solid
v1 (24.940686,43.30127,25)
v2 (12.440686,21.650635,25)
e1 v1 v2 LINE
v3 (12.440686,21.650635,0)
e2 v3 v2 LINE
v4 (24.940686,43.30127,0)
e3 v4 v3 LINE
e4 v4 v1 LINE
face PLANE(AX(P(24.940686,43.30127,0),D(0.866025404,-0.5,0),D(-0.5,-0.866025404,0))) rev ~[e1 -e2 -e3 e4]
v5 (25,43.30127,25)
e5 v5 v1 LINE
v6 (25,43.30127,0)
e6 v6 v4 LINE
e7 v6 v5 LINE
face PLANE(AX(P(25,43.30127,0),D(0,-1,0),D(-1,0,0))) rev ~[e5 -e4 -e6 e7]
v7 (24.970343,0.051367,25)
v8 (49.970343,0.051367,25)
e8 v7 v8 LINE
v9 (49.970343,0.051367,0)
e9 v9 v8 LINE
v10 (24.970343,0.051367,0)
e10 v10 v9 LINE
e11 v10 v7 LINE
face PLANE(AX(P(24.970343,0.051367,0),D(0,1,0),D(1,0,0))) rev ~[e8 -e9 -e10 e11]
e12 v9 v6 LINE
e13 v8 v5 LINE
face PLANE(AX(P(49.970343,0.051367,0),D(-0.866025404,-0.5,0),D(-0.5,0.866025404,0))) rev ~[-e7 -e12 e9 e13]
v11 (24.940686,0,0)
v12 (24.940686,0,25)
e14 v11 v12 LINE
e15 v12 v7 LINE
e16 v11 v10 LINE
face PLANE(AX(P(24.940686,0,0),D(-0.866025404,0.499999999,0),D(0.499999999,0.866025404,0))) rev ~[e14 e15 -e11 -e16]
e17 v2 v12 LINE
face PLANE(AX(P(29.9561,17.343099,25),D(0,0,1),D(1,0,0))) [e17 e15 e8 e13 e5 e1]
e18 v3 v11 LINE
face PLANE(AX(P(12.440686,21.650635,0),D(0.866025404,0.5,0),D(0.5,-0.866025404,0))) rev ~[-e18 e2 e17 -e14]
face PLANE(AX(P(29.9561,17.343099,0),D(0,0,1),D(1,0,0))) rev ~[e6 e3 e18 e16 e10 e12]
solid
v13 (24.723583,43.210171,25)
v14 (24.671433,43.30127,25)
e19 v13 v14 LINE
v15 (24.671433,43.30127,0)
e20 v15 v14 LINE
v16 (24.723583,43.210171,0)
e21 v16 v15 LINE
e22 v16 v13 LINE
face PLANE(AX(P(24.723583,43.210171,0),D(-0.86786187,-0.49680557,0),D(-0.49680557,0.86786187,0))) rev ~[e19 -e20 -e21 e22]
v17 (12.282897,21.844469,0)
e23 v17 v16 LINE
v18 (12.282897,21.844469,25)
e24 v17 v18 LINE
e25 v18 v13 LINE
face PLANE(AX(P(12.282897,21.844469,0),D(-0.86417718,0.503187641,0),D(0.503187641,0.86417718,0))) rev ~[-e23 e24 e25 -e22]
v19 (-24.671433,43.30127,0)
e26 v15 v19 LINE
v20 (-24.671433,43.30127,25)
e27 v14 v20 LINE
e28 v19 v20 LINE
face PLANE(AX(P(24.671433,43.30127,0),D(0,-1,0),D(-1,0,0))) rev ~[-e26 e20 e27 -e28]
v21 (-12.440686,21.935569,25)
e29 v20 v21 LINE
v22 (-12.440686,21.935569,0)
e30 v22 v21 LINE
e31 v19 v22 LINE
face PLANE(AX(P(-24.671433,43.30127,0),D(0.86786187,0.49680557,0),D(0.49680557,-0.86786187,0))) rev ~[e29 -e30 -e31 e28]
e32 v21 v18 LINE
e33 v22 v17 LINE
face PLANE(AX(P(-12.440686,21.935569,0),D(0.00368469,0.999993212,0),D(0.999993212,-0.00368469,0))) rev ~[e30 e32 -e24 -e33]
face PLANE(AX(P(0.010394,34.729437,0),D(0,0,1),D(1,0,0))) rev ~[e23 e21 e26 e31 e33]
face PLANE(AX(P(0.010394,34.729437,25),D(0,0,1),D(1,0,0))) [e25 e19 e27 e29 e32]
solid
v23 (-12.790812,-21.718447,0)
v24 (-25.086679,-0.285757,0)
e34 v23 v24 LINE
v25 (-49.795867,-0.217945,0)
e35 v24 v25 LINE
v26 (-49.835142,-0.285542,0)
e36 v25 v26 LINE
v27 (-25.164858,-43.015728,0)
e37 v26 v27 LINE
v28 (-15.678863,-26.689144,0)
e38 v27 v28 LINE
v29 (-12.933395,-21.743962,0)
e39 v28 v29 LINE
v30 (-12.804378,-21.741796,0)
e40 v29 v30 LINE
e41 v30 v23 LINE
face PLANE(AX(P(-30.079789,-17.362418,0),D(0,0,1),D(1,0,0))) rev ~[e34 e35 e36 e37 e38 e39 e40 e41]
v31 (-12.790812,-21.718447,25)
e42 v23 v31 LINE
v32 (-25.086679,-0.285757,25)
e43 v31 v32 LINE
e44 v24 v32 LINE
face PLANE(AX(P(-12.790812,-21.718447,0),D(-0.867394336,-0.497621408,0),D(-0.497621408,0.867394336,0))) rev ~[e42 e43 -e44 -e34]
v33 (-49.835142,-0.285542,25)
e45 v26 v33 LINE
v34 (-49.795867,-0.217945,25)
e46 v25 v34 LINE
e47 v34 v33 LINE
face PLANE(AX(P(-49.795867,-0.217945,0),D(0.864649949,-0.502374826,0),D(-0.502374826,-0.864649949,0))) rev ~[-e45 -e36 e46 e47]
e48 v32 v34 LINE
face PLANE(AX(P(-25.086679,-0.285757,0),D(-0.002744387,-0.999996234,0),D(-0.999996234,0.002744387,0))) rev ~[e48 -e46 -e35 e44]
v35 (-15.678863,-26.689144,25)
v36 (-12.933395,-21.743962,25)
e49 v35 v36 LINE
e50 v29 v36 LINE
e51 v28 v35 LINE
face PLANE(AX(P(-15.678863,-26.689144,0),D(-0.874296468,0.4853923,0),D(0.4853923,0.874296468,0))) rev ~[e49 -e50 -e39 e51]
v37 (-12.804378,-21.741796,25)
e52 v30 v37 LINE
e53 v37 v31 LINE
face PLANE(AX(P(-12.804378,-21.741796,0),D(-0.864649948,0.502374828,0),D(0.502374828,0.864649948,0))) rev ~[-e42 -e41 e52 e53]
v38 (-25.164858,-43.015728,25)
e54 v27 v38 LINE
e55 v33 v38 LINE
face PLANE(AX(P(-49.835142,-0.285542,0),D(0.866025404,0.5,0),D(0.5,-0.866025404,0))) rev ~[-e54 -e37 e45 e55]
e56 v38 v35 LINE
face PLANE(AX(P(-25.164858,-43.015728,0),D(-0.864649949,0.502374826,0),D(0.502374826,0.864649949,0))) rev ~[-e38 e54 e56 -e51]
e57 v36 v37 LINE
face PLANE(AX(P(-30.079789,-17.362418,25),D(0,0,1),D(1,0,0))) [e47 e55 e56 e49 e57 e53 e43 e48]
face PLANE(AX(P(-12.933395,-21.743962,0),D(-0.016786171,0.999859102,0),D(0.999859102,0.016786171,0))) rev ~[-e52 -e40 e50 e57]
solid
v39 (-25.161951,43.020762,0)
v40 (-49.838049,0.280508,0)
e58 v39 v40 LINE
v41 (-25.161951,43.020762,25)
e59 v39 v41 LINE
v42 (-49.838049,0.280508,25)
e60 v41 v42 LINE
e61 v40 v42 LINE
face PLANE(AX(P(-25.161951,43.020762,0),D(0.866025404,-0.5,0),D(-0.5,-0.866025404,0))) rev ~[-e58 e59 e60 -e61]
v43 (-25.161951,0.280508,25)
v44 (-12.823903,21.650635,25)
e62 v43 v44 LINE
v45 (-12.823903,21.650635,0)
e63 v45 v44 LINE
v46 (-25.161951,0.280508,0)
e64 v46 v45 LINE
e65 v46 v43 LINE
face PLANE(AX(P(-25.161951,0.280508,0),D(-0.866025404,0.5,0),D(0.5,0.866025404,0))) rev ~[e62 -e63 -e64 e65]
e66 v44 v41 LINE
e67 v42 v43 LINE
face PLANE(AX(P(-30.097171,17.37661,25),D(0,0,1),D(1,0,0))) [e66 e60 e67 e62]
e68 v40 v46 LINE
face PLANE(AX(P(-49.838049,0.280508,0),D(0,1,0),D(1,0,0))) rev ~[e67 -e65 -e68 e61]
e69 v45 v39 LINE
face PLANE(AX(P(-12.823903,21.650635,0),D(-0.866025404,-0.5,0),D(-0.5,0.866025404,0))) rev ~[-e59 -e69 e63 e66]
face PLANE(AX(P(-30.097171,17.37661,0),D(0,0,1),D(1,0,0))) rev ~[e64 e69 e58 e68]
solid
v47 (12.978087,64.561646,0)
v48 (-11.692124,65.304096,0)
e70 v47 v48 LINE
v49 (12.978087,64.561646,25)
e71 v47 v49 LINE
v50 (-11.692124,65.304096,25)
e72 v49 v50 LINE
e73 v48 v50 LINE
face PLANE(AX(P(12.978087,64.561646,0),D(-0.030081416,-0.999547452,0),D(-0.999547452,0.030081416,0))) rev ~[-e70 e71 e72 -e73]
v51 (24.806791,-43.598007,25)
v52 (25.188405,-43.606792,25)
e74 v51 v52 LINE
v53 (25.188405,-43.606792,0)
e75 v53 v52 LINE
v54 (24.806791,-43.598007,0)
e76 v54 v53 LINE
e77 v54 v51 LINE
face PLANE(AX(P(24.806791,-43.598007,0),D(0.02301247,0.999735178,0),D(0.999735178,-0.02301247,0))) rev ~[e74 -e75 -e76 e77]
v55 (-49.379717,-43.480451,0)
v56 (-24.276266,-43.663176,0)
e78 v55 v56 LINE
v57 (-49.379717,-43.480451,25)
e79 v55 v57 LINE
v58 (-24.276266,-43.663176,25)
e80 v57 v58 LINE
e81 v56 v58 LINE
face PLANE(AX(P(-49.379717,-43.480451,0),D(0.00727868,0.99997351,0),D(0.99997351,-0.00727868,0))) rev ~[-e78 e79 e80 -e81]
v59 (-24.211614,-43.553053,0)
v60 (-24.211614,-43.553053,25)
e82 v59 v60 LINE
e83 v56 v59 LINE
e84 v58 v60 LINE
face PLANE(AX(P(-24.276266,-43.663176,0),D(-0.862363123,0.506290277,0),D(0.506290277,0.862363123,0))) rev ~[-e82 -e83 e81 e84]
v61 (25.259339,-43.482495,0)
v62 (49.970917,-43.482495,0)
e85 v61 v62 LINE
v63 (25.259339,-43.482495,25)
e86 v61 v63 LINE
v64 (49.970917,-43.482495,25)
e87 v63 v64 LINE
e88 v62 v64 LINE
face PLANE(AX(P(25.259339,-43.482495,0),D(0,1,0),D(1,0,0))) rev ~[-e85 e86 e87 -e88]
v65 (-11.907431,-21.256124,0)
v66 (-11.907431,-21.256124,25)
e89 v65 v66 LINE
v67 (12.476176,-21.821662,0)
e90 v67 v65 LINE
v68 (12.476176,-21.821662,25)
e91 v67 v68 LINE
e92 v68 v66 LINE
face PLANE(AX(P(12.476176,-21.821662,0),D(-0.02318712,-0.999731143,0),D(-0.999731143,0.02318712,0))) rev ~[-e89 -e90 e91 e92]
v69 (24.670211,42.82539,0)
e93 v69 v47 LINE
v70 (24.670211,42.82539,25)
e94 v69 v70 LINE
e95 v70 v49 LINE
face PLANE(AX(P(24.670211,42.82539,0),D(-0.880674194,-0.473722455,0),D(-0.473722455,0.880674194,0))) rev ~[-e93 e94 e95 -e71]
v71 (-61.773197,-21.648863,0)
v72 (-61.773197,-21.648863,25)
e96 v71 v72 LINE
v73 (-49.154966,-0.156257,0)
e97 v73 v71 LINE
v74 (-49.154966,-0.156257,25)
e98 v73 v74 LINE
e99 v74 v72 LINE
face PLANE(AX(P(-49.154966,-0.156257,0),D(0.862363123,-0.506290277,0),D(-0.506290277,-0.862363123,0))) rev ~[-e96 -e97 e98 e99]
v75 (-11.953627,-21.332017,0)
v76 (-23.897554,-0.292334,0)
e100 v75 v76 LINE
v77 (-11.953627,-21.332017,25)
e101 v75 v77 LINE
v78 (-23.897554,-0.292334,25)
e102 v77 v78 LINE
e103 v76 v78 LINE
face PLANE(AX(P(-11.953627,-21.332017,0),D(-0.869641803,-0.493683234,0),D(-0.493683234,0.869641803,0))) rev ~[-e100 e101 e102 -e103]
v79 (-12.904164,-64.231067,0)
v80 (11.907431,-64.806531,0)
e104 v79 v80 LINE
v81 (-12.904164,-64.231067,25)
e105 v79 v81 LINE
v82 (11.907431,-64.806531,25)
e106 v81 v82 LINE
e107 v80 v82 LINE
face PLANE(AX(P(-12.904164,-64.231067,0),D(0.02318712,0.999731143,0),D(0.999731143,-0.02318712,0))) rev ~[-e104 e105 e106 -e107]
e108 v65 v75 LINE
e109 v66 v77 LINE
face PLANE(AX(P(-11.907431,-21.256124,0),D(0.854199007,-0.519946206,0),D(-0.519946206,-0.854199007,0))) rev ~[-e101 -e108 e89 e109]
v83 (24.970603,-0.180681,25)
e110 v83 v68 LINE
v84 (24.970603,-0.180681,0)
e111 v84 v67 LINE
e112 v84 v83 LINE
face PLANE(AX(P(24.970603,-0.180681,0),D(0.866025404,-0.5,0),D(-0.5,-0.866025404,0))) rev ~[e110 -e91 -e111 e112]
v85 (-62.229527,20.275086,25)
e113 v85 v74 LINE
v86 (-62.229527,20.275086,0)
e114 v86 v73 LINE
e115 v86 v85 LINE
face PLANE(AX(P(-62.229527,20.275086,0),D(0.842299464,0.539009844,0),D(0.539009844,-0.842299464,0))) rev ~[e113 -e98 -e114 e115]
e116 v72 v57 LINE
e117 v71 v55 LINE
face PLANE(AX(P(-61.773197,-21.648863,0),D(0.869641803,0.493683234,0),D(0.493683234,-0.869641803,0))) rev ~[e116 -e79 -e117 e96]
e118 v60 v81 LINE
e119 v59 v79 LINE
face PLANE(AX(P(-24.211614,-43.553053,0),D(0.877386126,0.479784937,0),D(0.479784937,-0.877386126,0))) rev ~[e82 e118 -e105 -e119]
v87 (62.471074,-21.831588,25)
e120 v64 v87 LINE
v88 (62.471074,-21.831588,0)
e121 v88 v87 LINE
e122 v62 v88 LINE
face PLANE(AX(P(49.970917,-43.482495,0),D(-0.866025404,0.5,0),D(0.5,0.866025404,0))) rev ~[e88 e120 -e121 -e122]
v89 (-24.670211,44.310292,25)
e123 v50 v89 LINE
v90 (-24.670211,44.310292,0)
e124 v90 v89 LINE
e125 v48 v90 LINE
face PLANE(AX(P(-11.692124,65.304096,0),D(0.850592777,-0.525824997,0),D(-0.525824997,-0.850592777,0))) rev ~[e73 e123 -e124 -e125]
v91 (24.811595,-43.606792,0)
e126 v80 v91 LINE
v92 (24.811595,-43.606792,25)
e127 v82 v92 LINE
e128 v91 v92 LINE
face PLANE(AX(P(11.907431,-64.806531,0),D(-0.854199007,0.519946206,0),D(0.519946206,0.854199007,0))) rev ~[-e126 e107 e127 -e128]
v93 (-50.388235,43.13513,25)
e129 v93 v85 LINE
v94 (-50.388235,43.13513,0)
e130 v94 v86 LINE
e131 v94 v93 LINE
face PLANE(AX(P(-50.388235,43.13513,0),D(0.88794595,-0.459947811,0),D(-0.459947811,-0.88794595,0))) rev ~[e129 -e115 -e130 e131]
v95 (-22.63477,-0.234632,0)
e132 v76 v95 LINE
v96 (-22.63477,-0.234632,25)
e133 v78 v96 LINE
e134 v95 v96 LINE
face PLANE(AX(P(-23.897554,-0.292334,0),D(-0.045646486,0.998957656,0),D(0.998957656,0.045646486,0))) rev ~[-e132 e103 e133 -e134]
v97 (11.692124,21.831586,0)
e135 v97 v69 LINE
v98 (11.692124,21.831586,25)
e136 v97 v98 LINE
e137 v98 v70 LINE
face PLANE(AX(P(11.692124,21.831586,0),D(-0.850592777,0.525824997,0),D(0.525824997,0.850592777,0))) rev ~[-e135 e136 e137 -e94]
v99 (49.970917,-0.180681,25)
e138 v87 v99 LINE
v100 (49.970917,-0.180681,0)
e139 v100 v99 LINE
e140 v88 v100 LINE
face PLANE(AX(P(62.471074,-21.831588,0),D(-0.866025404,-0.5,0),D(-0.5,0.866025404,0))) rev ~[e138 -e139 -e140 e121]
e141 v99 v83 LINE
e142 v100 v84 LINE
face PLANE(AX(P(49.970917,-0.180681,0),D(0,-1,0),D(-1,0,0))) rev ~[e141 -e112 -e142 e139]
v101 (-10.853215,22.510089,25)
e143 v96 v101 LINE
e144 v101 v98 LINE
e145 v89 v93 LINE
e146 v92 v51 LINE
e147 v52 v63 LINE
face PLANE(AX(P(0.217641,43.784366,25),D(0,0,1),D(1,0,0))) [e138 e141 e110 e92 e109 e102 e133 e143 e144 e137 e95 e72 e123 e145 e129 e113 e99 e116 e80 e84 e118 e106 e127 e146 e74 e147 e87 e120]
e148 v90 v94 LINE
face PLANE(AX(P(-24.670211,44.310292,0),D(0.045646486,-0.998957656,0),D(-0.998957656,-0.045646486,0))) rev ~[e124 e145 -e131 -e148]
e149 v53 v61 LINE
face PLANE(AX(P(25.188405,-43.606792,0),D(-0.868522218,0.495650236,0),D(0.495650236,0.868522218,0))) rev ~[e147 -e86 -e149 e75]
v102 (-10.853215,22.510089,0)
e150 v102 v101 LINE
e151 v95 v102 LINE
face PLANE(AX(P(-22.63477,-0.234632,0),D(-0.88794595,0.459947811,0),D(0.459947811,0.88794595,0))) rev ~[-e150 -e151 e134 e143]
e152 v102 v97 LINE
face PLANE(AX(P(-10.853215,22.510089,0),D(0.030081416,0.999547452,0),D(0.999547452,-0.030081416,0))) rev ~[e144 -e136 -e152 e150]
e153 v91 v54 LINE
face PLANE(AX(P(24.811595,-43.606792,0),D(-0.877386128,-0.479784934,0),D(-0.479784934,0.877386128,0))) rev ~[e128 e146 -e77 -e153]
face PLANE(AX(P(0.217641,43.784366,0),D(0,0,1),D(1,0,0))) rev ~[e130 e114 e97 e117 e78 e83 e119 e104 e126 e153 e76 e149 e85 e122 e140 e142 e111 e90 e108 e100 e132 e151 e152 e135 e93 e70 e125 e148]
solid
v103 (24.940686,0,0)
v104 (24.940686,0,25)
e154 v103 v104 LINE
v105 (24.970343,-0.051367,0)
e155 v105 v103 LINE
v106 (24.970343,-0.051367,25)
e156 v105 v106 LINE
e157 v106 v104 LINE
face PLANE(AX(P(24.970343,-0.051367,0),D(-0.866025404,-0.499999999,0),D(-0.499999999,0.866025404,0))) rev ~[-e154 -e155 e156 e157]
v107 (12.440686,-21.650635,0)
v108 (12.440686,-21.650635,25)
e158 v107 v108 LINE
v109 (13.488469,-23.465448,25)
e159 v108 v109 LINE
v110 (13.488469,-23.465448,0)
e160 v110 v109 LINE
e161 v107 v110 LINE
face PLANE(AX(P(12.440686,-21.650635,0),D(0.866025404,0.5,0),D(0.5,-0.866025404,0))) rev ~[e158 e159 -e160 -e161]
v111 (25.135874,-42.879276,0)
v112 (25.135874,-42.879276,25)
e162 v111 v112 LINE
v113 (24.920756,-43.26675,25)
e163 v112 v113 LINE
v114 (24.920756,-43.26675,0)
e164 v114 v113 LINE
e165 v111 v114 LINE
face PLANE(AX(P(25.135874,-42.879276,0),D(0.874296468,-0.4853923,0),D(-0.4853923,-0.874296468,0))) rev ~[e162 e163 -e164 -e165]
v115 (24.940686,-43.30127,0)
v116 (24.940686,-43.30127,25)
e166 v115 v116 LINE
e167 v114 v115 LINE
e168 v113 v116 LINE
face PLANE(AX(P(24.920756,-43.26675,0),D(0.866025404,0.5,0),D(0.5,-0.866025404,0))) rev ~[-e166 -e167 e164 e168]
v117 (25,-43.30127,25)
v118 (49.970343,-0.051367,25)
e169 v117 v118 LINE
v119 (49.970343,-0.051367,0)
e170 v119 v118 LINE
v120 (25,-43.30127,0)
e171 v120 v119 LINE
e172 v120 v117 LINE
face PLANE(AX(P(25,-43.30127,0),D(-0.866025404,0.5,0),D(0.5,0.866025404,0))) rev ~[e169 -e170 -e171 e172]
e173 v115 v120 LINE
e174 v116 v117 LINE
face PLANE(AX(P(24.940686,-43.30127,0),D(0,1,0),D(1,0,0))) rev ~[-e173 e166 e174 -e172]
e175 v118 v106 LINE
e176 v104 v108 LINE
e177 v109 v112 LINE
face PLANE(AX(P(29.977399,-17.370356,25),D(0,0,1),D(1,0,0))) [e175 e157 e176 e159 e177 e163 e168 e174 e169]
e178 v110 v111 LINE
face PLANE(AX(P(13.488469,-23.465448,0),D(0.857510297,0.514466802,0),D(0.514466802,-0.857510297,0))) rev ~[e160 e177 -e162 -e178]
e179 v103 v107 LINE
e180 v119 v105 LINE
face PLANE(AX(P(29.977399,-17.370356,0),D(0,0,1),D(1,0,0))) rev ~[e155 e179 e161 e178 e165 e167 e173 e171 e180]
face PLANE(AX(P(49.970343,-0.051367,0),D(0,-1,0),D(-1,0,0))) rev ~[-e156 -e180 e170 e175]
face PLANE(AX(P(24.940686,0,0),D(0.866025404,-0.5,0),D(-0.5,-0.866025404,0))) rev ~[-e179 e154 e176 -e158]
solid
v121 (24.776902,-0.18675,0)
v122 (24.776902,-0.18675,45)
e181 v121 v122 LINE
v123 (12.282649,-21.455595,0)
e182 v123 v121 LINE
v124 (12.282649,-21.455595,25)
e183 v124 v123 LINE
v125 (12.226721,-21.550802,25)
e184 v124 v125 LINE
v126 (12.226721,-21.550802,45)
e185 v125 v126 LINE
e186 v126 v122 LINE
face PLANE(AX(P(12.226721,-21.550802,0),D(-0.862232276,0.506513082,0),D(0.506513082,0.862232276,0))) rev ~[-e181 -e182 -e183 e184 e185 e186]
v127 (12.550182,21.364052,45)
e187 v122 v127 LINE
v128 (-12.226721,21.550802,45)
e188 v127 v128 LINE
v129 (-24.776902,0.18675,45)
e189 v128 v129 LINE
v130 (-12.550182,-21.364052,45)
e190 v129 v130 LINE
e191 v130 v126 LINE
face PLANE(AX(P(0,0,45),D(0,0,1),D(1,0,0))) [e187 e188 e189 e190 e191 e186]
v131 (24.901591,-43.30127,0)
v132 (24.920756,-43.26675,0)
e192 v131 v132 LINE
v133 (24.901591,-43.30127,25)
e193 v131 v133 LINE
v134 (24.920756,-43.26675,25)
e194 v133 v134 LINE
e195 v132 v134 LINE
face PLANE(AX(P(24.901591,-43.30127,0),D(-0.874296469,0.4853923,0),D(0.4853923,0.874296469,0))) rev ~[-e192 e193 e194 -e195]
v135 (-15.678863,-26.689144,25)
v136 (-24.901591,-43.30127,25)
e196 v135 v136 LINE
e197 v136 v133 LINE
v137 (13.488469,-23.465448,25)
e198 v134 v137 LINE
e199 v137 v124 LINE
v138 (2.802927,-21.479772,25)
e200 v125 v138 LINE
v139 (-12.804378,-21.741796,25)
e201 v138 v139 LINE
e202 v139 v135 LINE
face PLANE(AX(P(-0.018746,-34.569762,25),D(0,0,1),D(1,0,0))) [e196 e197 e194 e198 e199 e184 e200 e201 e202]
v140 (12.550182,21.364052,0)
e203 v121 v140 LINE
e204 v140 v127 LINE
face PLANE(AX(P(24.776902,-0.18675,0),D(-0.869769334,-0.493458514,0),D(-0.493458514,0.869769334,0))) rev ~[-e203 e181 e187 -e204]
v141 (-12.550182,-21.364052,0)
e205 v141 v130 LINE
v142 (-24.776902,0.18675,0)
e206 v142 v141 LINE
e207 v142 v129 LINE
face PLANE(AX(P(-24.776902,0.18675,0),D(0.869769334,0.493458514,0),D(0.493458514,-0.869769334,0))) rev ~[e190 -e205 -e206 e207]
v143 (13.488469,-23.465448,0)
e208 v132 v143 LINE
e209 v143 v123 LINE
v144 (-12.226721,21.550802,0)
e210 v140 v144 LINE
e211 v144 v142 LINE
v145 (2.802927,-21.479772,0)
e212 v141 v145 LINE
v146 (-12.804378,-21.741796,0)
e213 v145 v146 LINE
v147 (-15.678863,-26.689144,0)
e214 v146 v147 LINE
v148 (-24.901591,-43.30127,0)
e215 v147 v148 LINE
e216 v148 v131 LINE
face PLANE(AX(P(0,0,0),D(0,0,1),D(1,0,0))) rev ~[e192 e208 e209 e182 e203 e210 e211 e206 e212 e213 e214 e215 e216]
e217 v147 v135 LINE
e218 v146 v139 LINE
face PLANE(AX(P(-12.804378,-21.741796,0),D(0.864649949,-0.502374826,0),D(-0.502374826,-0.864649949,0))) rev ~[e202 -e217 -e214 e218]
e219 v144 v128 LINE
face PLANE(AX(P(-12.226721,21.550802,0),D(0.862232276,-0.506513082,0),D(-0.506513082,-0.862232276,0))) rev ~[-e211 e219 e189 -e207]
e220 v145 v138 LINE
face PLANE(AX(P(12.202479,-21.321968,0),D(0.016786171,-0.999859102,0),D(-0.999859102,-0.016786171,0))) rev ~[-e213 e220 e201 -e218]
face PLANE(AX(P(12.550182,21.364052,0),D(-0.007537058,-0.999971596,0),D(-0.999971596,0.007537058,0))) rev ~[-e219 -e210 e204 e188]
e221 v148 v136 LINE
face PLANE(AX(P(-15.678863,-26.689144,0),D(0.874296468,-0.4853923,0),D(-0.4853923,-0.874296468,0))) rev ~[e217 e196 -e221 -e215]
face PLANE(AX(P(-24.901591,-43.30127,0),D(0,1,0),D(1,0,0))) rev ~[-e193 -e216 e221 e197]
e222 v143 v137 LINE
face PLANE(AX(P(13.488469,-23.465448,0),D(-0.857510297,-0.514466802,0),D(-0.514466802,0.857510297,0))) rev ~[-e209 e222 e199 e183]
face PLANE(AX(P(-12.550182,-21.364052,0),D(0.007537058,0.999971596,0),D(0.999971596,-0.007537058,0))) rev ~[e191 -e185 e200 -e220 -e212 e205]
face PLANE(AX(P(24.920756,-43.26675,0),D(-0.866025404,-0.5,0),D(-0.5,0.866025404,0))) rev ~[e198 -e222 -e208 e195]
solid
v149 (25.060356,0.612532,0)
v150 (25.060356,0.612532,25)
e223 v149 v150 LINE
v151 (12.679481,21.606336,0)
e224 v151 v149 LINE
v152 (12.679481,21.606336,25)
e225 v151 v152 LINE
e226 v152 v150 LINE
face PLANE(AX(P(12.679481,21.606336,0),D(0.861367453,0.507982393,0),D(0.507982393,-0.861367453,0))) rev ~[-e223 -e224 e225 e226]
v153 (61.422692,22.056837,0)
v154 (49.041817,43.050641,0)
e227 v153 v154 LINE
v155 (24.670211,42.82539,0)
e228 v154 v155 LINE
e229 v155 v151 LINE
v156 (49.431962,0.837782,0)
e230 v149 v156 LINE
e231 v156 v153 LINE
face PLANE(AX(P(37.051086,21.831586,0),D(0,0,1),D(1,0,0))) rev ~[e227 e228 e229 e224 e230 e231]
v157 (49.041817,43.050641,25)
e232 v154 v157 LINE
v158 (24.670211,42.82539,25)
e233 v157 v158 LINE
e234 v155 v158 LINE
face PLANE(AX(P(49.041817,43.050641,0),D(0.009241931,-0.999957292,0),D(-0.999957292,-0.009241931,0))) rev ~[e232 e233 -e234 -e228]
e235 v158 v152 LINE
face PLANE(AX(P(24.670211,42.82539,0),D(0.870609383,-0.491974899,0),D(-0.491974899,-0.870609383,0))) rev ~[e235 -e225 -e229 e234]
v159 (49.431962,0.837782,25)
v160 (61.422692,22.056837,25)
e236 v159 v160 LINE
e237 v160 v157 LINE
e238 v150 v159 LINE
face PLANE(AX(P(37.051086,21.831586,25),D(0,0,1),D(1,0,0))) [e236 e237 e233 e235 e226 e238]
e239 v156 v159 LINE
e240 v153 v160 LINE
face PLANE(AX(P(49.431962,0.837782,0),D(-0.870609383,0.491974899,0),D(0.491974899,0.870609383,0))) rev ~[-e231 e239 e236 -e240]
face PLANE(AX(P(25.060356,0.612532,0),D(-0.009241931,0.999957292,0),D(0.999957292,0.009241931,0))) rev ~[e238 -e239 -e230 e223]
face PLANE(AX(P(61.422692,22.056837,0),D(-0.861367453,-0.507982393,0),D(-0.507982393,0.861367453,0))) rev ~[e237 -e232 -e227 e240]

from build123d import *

# Parameters (mm, degrees)
F1_DEPTH = 25
F3_DEPTH = 45
F5_DEPTH = 25


with BuildPart() as f1:
    # F0 (on Top) → F1 (new body)
    with BuildSketch(Plane.XY):
        Polygon((-24.9015906488, -43.3012701892), (24.9015906488, -43.3012701892), (24.920755634, -43.2667499076), (13.4884686604, -23.4654480227), (12.2024788915, -21.3219676951), (-12.8043784561, -21.7417962361), (-15.6788632745, -26.6891443595), align=None)
    extrude(amount=F1_DEPTH)

    # F2 (on Top) → F3 (join)
    with BuildSketch(Plane.XY):
        Polygon((24.7769024833, -0.186750258), (12.5501817092, 21.3640518486), (-12.2267207741, 21.5508021066), (-24.7769024833, 0.186750258), (-12.5501817092, -21.3640518486), (12.2267207741, -21.5508021066), align=None)
    extrude(amount=F3_DEPTH)


with BuildPart() as f1b:
    # F0 (on Top) → F1, piece 2 (new body)
    with BuildSketch(Plane.XY):
        Polygon((-25.1648577894, -43.0157281219), (-15.6788632745, -26.6891443595), (-12.9333948717, -21.7439622329), (-12.8043784561, -21.7417962361), (-12.7908121471, -21.7184469206), (-25.0866793096, -0.2857566201), (-49.7958671625, -0.2179447942), (-49.8351422106, -0.2855420673), align=None)
    extrude(amount=F1_DEPTH)


with BuildPart() as f1c:
    # F0 (on Top) → F1, piece 3 (new body)
    with BuildSketch(Plane.XY):
        Polygon((-12.8239028156, 21.6506350946), (-25.1619514078, 43.0207621226), (-49.8380485922, 0.2805080666), (-25.1619514078, 0.2805080666), align=None)
    extrude(amount=F1_DEPTH)


with BuildPart() as f1d:
    # F0 (on Top) → F1, piece 4 (new body)
    with BuildSketch(Plane.XY):
        Polygon((24.7235831244, 43.2101708227), (24.6714334975, 43.3012701892), (-24.6714334975, 43.3012701892), (-12.4406859279, 21.9355688142), (12.2828971965, 21.8444694476), align=None)
    extrude(amount=F1_DEPTH)


with BuildPart() as f1e:
    # F0 (on Top) → F1, piece 5 (new body)
    with BuildSketch(Plane.XY):
        Polygon((24.9703429639, 0.0513674933), (49.9703429639, 0.0513674933), (25, 43.3012701892), (24.9406859279, 43.3012701892), (12.4406859279, 21.6506350946), (24.9406859279, 0), align=None)
    extrude(amount=F1_DEPTH)


with BuildPart() as f1f:
    # F0 (on Top) → F1, piece 6 (new body)
    with BuildSketch(Plane.XY):
        Polygon((25, -43.3012701892), (49.9703429639, -0.0513674933), (24.9703429639, -0.0513674933), (24.9406859279, 0), (12.4406859279, -21.6506350946), (13.4884686604, -23.4654480227), (25.1358737632, -42.8792756513), (24.920755634, -43.2667499076), (24.9406859279, -43.3012701892), align=None)
    extrude(amount=F1_DEPTH)


with BuildPart() as f5:
    # F4 (on Top) → F5 (new body)
    with BuildSketch(Plane.XY):
        Polygon((49.041816591, 43.050640718), (24.6702112422, 42.8253904077), (12.6794810587, 21.6063358895), (25.0603562239, 0.6125316815), (49.4319615728, 0.8377819918), (61.4226917563, 22.05683651), align=None)
    extrude(amount=F5_DEPTH)


with BuildPart() as f5b:
    # F4 (on Top) → F5, piece 2 (new body)
    with BuildSketch(Plane.XY):
        Polygon((12.978086952, 64.5616455046), (-11.6921242902, 65.3040963936), (-24.6702112422, 44.3102921857), (-10.7934787484, 22.6254111641), (-10.8532145767, 22.5100889787), (11.6921242902, 21.8315861997), (24.6702112422, 42.8253904077), align=None)
        Polygon((-10.7934787484, 22.6254111641), (-24.6702112422, 44.3102921857), (-12.978086952, 22.5740370887), (-10.8532145767, 22.5100889787), align=None)
        Polygon((-12.978086952, 22.5740370887), (-24.6702112422, 44.3102921857), (-50.3882353318, 43.1351298353), (-62.2295269276, 20.2750864634), (-49.154966171, -0.1562574819), (-49.0632279674, 0), (-23.9597777086, -0.182724813), (-23.8975541406, -0.2923339958), (-22.6347703442, -0.2346322078), (-10.8532145767, 22.5100889787), align=None)
        Polygon((-48.3527944338, -1.4097945581), (-49.154966171, -0.1562574819), (-61.7731974268, -21.6488632403), (-49.3797166273, -43.4804512936), (-24.2762663685, -43.6631761066), (-24.2116136144, -43.5530532117), (-24.811594837, -42.4558632819), (-11.9536265425, -21.3320169775), (-23.8975541406, -0.2923339958), align=None)
        Polygon((-49.0632279674, 0), (-49.154966171, -0.1562574819), (-48.3527944338, -1.4097945581), (-23.8975541406, -0.2923339958), (-23.9597777086, -0.182724813), align=None)
        Polygon((-11.5662969091, -22.0143128663), (-11.9536265425, -21.3320169775), (-24.811594837, -42.4558632819), (-23.5840465975, -42.4841196815), align=None)
        Polygon((-11.9074308551, -21.2561239142), (-11.9536265425, -21.3320169775), (-11.5662969091, -22.0143128663), (-23.5840465975, -42.4841196815), (24.8067913325, -43.5980073572), (20.6762670877, -36.0444882887), (12.4704453108, -21.8315880533), (12.4761763604, -21.8216615842), align=None)
        Polygon((-23.5840465975, -42.4841196815), (-24.811594837, -42.4558632819), (-24.2116136144, -43.5530532117), align=None)
        Polygon((-23.5840465975, -42.4841196815), (-24.2116136144, -43.5530532117), (-12.904163982, -64.2310667888), (11.9074308551, -64.8065309279), (24.811594837, -43.6067915601), (24.8067913325, -43.5980073572), align=None)
        Polygon((24.9706025286, -0.1806806495), (12.4761763604, -21.8216615842), (12.904163982, -21.8315880533), (20.6762670877, -36.0444882887), (24.9706025286, -43.4824954571), (25.2593387459, -43.4824954571), (49.9709169642, -0.1806806495), align=None)
        Polygon((12.904163982, -21.8315880533), (12.4761763604, -21.8216615842), (12.4704453108, -21.8315880533), (20.6762670877, -36.0444882887), align=None)
        Polygon((20.6762670877, -36.0444882887), (24.8067913325, -43.5980073572), (25.188405163, -43.6067915601), (25.2593387459, -43.4824954571), (24.9706025286, -43.4824954571), align=None)
        Polygon((62.4710741819, -21.8315880533), (49.9709169642, -0.1806806495), (25.2593387459, -43.4824954571), (49.9709169642, -43.4824954571), align=None)
    extrude(amount=F5_DEPTH)


solid = Compound([f1.part, f1b.part, f1c.part, f1d.part, f1e.part, f1f.part, f5.part, f5b.part])
